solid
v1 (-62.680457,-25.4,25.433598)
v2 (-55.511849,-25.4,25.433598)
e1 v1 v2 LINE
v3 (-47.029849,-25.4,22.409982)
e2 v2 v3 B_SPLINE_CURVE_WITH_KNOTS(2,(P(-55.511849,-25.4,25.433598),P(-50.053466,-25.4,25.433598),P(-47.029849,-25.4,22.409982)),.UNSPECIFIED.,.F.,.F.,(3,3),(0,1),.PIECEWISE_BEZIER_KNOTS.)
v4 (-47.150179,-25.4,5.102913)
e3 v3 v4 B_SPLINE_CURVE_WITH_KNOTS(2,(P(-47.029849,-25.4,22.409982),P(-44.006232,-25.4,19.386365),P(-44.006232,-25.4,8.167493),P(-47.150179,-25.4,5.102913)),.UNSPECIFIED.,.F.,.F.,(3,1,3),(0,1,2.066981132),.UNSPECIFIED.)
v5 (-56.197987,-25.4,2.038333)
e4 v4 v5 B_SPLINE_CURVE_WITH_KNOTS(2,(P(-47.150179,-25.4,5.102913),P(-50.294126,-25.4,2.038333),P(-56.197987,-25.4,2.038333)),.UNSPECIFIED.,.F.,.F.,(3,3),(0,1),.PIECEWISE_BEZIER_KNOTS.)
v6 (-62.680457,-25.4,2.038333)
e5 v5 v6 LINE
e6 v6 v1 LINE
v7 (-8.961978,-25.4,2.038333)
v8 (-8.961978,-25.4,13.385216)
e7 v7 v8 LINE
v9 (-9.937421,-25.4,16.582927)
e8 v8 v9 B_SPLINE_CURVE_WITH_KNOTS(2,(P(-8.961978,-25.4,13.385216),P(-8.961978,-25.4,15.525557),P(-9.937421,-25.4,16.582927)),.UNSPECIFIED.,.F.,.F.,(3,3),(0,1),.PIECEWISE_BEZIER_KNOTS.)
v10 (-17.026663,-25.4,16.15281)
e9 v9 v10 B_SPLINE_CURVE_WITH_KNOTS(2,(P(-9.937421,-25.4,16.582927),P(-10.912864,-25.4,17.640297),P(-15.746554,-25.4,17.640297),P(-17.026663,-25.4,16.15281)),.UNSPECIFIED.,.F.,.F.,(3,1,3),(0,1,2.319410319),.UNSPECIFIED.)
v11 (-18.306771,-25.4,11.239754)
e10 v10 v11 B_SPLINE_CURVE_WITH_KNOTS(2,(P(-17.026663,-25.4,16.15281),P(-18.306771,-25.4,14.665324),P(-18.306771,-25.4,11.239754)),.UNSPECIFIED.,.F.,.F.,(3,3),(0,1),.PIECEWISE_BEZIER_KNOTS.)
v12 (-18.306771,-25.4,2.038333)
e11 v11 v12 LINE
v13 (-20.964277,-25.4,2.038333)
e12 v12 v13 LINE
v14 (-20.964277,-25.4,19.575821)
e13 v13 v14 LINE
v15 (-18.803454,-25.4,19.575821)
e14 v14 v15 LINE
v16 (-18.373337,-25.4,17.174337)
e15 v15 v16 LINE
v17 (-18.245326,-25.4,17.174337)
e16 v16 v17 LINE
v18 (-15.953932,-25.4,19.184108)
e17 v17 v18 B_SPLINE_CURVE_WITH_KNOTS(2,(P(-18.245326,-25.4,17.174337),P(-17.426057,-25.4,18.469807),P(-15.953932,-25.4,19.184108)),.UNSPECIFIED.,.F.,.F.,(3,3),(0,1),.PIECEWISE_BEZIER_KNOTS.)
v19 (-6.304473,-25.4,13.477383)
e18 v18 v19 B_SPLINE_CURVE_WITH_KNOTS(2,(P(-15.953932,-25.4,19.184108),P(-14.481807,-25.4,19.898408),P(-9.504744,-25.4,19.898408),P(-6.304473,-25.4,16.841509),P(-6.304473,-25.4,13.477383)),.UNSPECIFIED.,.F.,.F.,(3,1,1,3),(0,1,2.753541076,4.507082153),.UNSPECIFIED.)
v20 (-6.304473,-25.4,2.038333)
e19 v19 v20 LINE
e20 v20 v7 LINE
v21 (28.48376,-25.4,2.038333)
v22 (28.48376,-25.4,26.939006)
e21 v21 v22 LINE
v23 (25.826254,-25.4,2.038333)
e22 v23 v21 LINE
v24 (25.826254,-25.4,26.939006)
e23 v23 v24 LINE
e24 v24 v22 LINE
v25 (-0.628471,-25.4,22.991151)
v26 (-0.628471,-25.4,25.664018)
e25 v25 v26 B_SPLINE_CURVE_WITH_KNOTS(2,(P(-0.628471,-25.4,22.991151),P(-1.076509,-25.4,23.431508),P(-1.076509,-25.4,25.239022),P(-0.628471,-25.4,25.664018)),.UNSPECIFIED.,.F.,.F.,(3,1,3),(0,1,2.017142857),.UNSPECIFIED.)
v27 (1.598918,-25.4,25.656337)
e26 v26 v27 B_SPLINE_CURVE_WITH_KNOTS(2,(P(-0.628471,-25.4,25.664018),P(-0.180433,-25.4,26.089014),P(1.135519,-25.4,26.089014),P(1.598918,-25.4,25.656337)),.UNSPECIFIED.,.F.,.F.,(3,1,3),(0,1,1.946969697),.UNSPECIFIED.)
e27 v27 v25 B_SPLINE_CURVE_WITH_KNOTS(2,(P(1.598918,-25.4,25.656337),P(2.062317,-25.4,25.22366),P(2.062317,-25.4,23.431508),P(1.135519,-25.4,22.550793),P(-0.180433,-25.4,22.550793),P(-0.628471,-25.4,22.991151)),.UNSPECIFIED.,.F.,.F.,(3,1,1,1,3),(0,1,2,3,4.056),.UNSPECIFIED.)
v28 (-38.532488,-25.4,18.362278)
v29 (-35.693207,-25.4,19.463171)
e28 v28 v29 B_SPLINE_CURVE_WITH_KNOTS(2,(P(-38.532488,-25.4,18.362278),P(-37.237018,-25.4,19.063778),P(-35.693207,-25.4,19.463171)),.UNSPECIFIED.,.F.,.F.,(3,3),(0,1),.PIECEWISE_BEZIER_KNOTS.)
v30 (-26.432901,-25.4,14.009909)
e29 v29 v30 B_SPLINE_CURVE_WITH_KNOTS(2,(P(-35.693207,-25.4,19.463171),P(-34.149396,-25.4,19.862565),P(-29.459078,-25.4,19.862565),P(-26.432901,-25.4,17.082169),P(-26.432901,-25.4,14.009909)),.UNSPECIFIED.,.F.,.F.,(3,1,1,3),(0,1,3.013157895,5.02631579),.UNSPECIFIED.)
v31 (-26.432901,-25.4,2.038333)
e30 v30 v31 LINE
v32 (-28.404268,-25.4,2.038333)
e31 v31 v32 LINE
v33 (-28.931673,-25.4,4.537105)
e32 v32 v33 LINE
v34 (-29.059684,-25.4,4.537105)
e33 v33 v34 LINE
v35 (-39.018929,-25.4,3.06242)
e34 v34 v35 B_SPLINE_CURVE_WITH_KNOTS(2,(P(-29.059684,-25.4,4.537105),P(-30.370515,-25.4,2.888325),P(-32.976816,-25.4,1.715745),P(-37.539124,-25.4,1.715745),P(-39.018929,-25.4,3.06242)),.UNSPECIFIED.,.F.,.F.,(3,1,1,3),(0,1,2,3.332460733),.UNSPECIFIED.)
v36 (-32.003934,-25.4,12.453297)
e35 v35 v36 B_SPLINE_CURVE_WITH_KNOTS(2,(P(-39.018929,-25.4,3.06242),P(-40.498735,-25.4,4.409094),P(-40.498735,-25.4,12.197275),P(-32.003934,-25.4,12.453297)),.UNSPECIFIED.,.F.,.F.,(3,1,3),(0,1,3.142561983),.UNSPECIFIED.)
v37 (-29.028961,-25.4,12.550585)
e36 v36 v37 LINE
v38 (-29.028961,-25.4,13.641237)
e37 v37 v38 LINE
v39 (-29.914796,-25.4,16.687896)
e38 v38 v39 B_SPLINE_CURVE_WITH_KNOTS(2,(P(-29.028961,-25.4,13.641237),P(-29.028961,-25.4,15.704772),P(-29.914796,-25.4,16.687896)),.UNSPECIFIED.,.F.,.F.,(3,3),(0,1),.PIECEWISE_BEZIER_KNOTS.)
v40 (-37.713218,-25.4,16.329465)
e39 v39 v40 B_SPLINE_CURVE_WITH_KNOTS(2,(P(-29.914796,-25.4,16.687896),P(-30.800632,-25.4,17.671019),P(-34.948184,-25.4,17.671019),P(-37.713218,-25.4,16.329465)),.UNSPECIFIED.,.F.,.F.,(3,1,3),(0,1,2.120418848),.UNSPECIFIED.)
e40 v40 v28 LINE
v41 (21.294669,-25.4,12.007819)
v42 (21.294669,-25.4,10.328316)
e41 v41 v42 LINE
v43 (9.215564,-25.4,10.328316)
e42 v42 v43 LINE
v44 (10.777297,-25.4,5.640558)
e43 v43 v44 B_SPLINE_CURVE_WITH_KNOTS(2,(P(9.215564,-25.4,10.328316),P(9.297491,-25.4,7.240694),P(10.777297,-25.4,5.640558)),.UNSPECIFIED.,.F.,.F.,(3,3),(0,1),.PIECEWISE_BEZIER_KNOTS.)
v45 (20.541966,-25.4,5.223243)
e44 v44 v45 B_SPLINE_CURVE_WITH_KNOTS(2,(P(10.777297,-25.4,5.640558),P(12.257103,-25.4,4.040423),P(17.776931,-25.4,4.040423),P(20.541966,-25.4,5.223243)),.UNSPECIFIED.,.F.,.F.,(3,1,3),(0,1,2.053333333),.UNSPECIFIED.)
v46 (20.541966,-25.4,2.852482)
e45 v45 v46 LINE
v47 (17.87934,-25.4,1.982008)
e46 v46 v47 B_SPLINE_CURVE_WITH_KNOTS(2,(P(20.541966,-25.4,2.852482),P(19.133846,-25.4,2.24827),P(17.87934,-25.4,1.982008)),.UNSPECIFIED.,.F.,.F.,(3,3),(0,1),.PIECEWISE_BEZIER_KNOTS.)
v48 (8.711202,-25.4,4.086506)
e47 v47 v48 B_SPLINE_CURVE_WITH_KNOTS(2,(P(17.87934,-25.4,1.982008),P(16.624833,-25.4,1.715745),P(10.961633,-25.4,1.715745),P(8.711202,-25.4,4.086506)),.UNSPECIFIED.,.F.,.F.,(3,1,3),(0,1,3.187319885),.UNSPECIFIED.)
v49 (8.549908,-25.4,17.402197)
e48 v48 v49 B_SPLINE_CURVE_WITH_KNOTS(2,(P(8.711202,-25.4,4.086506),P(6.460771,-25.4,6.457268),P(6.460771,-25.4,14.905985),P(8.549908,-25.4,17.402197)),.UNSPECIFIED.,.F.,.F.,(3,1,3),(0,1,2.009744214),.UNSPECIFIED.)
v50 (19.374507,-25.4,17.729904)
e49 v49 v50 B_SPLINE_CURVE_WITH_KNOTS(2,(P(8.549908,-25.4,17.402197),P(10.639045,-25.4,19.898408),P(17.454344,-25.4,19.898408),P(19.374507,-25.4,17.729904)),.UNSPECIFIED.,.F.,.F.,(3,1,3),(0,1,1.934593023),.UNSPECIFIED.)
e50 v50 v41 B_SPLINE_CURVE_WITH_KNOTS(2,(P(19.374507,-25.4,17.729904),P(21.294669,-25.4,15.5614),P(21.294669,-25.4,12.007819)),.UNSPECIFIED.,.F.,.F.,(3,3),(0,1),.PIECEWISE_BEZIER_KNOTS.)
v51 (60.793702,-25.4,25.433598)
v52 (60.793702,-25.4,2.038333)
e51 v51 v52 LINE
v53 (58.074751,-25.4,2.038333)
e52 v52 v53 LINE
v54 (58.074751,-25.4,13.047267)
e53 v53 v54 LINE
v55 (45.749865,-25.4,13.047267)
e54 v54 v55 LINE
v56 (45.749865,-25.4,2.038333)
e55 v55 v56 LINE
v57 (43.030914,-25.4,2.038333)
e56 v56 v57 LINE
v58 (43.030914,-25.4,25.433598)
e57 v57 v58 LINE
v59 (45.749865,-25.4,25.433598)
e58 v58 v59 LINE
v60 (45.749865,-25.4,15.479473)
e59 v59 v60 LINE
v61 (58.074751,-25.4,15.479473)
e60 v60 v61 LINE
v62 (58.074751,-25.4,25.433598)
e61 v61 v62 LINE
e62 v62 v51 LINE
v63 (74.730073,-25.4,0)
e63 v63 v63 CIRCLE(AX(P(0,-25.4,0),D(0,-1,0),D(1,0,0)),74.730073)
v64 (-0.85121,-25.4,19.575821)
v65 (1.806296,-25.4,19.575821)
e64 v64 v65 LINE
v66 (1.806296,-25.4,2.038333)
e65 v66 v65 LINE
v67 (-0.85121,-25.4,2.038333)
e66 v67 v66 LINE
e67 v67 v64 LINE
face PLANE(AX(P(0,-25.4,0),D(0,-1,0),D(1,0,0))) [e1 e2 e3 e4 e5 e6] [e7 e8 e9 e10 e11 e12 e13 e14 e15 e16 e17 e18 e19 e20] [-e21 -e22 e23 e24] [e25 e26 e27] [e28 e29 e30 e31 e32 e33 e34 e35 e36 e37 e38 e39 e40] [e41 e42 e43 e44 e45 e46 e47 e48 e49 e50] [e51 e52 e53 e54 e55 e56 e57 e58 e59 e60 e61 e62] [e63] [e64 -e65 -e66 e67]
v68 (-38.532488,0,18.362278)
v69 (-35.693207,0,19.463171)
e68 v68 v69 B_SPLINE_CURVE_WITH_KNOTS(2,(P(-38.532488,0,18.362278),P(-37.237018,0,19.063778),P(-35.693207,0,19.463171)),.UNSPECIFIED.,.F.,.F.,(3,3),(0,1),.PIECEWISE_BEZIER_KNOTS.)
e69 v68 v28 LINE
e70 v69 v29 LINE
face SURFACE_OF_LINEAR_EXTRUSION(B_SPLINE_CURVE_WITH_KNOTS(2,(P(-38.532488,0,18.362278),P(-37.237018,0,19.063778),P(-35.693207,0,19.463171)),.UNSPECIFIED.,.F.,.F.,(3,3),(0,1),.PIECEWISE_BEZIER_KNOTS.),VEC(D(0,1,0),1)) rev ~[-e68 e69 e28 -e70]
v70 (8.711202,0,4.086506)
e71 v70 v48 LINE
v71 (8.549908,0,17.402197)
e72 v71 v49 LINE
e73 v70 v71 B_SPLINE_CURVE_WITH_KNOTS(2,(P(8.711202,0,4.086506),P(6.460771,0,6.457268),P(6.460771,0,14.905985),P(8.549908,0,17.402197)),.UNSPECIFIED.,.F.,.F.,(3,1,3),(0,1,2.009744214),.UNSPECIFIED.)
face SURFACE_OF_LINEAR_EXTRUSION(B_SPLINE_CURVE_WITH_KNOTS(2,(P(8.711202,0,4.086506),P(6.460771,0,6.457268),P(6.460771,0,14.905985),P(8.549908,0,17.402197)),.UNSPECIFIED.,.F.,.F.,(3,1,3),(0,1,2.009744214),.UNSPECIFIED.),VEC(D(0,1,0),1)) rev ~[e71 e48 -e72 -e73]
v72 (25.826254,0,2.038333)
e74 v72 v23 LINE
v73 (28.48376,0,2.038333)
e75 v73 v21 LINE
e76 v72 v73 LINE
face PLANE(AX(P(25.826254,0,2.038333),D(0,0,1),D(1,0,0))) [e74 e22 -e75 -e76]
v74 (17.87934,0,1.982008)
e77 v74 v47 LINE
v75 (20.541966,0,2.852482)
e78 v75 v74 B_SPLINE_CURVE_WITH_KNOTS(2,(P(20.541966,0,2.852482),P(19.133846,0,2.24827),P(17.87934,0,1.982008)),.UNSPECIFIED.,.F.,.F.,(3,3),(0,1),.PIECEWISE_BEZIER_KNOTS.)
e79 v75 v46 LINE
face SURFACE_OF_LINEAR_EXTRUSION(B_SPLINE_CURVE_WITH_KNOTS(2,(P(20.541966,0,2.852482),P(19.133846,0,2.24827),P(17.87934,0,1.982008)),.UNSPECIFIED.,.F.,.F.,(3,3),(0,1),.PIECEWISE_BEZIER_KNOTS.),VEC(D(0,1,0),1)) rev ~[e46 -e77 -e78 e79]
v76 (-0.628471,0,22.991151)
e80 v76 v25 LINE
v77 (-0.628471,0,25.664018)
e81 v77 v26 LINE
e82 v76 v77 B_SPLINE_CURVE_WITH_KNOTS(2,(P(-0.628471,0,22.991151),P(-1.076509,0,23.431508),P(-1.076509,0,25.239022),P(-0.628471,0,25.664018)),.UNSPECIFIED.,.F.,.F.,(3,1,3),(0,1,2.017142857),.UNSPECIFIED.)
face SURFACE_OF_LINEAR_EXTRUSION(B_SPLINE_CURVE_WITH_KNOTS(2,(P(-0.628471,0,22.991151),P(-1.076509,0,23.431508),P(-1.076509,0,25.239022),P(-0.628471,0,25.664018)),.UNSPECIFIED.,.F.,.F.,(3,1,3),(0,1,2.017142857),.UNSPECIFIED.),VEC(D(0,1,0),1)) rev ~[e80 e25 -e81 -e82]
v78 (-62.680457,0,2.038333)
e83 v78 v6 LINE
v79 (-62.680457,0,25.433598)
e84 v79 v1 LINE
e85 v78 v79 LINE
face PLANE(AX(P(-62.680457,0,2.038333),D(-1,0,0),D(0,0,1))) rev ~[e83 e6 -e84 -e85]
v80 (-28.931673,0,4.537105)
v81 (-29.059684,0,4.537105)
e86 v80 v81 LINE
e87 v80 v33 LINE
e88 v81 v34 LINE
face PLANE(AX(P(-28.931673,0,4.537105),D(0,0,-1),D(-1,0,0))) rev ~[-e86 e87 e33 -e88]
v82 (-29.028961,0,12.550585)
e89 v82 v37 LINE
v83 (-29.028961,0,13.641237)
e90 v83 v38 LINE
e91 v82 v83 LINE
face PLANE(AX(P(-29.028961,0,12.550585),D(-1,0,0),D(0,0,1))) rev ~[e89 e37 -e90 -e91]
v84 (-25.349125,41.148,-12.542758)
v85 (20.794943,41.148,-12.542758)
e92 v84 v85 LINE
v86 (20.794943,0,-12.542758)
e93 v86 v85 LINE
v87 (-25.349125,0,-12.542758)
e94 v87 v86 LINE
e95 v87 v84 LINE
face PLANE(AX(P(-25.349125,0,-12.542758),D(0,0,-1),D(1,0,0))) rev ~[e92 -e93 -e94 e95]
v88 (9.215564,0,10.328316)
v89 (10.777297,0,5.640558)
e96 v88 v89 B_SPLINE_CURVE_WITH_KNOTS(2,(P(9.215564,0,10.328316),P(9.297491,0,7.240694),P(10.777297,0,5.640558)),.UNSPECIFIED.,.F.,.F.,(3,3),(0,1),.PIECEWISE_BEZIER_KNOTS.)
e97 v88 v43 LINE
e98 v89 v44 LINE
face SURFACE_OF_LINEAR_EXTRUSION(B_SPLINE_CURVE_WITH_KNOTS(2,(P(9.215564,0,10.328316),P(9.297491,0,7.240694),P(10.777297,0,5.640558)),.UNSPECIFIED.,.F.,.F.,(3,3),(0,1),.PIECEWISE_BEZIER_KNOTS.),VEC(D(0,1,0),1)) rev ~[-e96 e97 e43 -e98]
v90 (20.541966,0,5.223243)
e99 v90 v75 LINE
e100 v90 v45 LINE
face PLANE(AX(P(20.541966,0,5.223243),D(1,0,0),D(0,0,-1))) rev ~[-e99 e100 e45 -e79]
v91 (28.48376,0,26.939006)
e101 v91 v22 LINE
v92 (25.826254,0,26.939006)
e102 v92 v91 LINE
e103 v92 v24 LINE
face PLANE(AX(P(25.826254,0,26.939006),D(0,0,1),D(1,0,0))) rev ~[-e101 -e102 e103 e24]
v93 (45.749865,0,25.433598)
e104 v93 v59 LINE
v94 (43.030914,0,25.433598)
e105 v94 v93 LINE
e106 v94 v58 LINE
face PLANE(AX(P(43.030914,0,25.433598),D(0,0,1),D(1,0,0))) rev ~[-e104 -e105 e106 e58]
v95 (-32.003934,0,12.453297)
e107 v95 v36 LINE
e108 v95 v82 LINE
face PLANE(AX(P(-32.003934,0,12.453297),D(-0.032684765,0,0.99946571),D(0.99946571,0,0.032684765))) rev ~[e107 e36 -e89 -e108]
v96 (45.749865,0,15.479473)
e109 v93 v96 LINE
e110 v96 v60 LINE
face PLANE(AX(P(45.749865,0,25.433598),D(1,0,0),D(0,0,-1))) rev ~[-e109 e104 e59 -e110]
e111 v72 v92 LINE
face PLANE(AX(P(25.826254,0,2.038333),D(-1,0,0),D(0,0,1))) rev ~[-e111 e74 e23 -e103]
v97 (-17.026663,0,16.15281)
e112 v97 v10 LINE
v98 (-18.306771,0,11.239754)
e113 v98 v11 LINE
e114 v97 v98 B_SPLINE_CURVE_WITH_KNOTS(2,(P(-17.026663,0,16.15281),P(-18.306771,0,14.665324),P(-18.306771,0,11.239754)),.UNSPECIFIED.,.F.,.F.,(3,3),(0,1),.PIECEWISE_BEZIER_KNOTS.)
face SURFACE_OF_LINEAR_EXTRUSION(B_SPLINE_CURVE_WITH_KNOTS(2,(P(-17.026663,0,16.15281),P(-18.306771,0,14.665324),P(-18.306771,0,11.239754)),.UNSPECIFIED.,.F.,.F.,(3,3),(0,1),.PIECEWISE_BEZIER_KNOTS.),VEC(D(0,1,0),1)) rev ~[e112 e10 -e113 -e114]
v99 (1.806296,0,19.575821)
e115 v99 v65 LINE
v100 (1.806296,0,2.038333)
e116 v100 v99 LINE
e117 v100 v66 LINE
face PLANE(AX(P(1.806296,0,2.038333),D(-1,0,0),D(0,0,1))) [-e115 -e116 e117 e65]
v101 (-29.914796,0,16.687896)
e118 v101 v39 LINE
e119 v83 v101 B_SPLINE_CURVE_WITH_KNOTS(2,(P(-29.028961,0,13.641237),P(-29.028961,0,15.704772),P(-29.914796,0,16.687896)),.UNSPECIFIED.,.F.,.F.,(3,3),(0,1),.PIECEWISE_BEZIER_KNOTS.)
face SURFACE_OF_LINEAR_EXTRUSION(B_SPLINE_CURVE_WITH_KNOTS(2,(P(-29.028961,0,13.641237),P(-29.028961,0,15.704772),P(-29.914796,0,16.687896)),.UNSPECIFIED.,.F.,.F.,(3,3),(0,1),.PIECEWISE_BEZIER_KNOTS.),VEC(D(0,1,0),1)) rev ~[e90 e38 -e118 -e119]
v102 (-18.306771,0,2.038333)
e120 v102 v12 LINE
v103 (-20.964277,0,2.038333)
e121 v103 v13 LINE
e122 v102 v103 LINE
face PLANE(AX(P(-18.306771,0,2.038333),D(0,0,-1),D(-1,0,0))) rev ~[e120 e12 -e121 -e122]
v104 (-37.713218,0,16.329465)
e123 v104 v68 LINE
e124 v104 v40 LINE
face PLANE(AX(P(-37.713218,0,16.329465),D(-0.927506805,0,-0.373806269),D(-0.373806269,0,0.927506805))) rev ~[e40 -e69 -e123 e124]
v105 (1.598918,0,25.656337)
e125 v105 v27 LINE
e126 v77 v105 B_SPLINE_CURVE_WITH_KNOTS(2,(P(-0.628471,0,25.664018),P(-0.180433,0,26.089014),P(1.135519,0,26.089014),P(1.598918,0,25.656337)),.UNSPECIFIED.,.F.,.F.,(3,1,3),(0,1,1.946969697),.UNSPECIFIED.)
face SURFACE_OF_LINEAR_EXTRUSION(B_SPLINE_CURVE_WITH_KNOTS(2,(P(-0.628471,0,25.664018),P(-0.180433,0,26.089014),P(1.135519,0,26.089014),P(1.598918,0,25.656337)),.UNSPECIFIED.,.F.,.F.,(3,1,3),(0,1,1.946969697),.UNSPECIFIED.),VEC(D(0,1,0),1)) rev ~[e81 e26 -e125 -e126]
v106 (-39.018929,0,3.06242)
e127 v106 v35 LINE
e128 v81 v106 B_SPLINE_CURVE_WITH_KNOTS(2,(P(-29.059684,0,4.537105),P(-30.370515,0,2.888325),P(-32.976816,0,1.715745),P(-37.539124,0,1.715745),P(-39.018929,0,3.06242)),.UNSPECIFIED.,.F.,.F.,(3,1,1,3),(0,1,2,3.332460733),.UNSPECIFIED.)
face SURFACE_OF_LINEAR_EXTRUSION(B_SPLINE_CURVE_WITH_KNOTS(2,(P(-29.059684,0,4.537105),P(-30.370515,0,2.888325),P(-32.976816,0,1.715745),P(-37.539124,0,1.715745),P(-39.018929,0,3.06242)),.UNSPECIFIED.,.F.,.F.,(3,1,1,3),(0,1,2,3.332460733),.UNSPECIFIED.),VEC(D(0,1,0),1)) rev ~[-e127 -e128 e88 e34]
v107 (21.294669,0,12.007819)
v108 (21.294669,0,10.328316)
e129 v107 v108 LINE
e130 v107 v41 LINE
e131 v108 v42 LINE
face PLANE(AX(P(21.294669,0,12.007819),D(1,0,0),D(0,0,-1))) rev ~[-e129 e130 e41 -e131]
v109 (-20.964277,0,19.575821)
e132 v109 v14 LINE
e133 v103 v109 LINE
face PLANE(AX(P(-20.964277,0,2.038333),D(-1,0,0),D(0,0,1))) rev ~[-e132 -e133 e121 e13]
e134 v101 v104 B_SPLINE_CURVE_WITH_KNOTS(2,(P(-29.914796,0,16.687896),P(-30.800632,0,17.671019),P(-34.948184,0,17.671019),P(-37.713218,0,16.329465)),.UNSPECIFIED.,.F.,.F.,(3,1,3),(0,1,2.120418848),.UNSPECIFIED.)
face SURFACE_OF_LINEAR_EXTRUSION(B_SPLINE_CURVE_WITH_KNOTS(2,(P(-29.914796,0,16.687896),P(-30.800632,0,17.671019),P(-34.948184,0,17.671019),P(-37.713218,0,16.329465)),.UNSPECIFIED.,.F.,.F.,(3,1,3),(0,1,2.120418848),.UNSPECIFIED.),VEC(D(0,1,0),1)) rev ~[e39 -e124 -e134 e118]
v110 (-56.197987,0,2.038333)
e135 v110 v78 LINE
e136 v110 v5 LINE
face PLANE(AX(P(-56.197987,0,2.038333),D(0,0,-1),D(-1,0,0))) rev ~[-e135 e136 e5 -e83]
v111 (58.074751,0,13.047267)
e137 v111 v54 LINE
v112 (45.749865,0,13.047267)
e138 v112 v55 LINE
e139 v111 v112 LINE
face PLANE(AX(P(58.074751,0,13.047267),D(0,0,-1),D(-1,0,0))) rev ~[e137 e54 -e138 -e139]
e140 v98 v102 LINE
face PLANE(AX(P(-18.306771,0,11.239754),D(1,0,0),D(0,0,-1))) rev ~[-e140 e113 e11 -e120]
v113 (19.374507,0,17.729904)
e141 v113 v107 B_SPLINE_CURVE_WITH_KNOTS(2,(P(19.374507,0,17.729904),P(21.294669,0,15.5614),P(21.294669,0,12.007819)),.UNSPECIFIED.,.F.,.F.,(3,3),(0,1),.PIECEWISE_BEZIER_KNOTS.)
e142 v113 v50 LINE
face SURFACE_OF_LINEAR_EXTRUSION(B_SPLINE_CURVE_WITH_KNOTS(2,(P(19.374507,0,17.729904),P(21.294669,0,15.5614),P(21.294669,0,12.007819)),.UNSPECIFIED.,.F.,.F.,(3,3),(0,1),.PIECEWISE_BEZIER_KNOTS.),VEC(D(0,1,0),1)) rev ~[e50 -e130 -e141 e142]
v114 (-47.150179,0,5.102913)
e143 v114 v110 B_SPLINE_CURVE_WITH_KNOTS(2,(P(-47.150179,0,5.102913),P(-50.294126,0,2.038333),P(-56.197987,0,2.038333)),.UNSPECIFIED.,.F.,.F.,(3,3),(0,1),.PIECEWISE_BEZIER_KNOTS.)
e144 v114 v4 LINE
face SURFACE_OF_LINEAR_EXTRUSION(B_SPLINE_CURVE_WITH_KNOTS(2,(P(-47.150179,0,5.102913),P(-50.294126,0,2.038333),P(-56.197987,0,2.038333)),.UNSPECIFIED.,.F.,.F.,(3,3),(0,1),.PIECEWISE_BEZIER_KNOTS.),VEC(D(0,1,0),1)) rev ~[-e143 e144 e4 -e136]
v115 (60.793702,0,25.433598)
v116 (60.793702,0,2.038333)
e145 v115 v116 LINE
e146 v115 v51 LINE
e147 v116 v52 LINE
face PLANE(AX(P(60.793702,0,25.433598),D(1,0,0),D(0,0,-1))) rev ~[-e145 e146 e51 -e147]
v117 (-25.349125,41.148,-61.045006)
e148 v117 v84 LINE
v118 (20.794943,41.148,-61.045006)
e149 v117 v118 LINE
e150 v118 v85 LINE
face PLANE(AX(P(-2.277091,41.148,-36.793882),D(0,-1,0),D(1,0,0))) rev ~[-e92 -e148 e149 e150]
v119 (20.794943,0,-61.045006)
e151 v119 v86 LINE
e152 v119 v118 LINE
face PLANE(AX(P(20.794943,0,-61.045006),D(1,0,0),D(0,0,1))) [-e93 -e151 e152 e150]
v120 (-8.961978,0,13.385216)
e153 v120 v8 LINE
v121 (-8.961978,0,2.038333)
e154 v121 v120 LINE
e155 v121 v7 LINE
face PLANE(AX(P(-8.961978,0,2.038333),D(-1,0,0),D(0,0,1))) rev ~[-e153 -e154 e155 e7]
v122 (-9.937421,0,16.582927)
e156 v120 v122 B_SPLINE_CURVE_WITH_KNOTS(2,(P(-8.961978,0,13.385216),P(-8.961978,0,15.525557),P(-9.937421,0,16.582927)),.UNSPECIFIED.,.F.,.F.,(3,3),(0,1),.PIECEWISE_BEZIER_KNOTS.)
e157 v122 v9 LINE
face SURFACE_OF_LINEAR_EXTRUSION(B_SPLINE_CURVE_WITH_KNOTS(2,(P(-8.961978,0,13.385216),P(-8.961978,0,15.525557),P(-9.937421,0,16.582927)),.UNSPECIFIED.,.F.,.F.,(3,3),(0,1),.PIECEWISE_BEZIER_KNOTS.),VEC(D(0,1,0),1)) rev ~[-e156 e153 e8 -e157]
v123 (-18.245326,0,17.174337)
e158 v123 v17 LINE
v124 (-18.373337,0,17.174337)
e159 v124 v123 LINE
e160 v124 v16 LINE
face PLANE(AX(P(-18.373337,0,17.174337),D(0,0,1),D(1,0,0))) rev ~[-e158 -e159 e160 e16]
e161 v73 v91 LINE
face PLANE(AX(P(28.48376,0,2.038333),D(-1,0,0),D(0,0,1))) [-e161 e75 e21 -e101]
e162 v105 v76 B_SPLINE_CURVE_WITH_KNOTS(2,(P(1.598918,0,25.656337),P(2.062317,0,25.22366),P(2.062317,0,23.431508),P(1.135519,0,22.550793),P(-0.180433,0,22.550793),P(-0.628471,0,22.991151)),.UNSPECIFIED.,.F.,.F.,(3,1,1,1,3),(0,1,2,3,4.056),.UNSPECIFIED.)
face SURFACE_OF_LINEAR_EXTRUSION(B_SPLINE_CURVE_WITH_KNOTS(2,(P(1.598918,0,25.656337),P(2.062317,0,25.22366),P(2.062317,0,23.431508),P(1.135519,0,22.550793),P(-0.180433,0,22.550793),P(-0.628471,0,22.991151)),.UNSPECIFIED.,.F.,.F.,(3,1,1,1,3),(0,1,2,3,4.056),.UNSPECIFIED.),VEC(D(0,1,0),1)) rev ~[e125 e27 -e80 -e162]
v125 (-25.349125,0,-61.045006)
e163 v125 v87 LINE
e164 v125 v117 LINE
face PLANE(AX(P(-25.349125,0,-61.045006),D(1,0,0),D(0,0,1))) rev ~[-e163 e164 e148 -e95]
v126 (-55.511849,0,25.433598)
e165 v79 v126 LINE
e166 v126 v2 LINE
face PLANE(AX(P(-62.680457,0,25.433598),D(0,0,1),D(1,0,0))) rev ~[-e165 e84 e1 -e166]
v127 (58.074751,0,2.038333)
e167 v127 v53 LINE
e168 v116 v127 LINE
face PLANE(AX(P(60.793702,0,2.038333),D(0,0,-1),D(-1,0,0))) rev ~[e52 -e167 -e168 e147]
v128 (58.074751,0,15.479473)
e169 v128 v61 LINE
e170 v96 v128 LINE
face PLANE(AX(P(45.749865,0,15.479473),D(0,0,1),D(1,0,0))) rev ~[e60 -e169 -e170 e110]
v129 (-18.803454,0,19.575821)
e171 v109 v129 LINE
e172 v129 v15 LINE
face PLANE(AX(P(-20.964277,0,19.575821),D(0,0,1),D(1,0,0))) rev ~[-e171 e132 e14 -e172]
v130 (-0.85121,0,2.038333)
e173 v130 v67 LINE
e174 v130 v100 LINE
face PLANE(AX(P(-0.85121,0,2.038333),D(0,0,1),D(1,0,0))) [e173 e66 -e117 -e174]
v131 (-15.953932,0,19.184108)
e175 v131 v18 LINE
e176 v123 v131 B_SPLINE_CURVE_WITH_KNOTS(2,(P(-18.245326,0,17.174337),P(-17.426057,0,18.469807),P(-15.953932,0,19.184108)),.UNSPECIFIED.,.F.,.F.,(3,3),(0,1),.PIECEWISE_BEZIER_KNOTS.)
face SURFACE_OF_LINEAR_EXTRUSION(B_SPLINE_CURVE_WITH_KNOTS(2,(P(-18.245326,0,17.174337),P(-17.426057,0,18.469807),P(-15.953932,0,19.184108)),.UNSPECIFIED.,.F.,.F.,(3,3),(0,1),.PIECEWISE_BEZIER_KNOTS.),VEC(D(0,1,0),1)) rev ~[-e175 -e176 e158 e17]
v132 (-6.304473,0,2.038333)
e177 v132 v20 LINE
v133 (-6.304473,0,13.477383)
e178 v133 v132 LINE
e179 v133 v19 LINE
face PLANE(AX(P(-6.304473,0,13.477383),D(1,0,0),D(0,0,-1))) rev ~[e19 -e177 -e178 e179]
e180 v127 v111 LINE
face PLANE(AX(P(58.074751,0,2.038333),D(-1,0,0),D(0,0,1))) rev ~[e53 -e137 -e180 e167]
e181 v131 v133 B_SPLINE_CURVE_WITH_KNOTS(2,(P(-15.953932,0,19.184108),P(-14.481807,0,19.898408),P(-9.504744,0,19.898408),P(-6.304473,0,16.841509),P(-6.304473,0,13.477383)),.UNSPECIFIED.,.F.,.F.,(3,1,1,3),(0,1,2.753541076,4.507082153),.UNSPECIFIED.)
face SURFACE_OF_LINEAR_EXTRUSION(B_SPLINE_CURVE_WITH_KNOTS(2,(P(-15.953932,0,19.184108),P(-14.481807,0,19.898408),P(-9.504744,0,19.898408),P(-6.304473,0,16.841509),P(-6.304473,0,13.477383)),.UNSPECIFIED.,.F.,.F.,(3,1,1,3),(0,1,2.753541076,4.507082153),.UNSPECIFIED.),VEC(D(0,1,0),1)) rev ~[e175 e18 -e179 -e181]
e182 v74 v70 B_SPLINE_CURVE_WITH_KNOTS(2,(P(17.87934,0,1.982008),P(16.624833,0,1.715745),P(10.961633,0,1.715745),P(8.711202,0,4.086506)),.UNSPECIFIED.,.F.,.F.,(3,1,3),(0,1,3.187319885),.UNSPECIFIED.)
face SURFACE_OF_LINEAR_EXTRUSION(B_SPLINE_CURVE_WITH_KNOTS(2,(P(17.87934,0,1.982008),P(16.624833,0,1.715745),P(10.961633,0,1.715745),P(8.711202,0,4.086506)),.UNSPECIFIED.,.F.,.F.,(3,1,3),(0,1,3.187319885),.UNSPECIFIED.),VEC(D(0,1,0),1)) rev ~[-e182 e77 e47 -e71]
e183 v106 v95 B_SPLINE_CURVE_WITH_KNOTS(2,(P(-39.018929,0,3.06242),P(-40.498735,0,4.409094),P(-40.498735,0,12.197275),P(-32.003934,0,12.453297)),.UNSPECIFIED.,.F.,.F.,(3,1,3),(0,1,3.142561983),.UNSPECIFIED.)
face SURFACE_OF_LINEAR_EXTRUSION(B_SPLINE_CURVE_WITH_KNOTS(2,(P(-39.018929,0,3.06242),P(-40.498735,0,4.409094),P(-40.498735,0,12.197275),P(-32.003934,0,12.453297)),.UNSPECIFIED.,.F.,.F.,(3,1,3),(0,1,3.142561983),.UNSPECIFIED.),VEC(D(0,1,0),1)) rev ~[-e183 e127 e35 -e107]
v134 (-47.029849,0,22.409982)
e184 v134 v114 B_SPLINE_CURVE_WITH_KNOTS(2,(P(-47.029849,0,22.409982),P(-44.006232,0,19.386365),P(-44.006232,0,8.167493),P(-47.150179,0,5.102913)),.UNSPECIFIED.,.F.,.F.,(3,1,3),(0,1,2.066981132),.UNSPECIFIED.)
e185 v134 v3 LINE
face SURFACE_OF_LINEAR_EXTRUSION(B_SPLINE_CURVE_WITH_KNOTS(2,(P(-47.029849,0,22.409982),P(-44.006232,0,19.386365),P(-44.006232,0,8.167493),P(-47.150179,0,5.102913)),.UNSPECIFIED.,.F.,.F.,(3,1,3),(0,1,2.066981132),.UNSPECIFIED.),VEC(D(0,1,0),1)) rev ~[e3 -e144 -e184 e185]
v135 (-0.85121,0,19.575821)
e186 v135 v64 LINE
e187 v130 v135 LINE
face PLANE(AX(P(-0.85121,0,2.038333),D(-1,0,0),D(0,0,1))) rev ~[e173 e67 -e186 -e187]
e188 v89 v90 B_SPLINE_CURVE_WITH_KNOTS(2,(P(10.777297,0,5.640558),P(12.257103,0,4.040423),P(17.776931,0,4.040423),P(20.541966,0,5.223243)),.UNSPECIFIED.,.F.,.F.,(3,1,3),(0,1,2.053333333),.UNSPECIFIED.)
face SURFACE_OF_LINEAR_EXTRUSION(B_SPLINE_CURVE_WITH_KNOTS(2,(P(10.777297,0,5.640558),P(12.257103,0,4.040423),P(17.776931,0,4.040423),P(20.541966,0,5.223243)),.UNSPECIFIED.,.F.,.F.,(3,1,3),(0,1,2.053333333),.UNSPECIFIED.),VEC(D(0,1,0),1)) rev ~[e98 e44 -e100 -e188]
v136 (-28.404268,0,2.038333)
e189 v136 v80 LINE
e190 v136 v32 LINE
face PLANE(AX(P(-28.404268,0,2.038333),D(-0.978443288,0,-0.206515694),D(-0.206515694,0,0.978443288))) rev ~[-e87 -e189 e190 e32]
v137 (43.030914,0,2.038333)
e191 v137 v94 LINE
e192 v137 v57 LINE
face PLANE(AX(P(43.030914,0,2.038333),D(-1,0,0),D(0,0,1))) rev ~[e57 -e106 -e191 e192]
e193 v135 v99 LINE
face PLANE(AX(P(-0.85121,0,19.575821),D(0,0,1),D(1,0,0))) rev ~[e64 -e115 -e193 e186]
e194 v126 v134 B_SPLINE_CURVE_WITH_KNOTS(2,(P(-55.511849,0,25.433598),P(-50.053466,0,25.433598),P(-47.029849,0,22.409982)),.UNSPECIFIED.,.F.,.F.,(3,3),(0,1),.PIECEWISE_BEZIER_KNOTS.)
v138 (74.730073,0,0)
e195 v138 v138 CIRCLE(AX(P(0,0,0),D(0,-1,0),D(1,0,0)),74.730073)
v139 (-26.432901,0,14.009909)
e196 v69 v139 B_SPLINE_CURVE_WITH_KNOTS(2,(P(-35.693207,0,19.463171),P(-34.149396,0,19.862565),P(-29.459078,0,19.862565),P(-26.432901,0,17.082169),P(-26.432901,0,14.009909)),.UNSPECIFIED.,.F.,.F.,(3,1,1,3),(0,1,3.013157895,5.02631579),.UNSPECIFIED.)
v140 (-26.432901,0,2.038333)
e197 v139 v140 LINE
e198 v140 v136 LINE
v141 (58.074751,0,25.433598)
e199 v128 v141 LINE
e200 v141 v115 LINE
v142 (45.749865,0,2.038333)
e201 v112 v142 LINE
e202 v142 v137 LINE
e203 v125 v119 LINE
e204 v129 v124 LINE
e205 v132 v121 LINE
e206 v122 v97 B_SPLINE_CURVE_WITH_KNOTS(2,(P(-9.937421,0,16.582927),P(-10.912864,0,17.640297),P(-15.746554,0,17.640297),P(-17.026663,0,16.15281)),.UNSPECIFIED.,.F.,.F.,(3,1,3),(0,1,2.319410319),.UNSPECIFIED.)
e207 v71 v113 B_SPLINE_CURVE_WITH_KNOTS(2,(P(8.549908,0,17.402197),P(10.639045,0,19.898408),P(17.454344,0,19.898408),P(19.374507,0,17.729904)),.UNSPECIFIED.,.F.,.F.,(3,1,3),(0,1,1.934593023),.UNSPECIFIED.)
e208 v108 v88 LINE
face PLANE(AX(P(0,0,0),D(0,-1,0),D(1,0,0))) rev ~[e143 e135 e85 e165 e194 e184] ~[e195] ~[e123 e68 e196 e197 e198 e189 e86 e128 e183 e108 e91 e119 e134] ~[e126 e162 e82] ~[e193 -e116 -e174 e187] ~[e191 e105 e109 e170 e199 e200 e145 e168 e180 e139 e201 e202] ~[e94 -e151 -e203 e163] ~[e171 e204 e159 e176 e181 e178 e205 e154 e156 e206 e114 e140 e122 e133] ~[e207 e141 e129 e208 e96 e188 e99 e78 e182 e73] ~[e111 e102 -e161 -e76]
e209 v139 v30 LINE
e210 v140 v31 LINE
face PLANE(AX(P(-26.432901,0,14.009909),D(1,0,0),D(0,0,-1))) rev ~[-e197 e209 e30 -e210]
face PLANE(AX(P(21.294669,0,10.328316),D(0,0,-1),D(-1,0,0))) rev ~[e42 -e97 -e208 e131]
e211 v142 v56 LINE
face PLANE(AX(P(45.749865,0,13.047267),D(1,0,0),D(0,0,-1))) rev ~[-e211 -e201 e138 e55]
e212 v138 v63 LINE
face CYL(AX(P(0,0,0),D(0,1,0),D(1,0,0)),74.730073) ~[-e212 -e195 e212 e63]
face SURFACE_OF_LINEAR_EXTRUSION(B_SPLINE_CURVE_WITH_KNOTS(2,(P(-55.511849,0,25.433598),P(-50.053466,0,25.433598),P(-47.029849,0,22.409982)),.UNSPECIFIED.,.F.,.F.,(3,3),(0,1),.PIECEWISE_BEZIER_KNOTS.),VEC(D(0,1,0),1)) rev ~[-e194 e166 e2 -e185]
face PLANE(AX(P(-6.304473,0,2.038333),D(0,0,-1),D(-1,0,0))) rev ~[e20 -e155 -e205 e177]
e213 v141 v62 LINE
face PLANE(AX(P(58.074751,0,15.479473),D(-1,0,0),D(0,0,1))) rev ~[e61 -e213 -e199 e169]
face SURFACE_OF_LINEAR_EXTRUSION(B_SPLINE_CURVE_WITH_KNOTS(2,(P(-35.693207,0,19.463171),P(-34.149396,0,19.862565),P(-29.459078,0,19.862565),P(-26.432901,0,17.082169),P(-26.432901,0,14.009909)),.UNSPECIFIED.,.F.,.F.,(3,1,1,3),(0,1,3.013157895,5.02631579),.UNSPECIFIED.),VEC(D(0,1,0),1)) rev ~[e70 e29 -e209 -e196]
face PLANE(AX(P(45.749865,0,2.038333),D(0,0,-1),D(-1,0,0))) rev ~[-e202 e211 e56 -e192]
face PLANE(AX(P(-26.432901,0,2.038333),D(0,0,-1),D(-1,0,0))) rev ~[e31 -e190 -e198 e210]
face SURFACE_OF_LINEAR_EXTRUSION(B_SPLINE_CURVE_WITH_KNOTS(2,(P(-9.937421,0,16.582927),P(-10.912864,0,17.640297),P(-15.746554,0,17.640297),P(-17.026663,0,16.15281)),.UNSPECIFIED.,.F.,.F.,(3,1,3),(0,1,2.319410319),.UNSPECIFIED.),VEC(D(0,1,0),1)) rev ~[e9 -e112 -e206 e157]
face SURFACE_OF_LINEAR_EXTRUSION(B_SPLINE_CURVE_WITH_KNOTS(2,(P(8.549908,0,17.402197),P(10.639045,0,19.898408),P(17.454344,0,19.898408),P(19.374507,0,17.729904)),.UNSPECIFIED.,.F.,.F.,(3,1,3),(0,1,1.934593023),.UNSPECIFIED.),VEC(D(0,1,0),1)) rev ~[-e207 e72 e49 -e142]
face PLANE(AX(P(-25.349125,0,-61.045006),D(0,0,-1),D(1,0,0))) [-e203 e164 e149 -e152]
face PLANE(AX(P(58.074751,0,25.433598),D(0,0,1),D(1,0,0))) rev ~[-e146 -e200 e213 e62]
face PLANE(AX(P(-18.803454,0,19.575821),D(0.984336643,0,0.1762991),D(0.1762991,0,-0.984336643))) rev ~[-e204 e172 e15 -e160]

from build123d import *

# Parameters (mm, degrees)
F0_R     = 74.7300726791
F0_W     = 2.6575055344
F0_H     = 17.5374883535
F0_H_2   = 24.9006732447
F2_DEPTH = 25.4
F1_W     = 46.1440682411
F1_H     = 48.5022477806
F3_DEPTH = 41.148


with BuildPart() as f2:
    # F0 (on Front) → F2 (new body)
    with BuildSketch(Plane.XZ):
        Circle(F0_R)
        with BuildLine():
            add(Edge.make_bspline(
                [(-47.0298489993, 22.4099815138), (-44.0062323942, 19.3863649086), (-44.0062323942, 13.9587042795)],
                knots=[0, 0, 0, 1, 1, 1], degree=2))
            add(Edge.make_bspline(
                [(-44.0062323942, 13.9587042795), (-44.0062323942, 8.1674927969), (-47.1501792114, 5.1029127153)],
                knots=[0, 0, 0, 1, 1, 1], degree=2))
            add(Edge.make_bspline(
                [(-47.1501792114, 5.1029127153), (-50.2941260287, 2.0383326337), (-56.1979870715, 2.0383326337)],
                knots=[0, 0, 0, 1, 1, 1], degree=2))
            Line((-56.1979870715, 2.0383326337), (-62.6804572191, 2.0383326337))
            Line((-62.6804572191, 2.0383326337), (-62.6804572191, 25.433598119))
            Line((-62.6804572191, 25.433598119), (-55.511848841, 25.433598119))
            add(Edge.make_bspline(
                [(-55.511848841, 25.433598119), (-50.0534656045, 25.433598119), (-47.0298489993, 22.4099815138)],
                knots=[0, 0, 0, 1, 1, 1], degree=2))
        make_face(mode=Mode.SUBTRACT)
        with BuildLine():
            Line((-26.4329009988, 2.0383326337), (-28.4042683027, 2.0383326337))
            Line((-28.4042683027, 2.0383326337), (-28.931673062, 4.5371046969))
            Line((-28.931673062, 4.5371046969), (-29.0596839259, 4.5371046969))
            add(Edge.make_bspline(
                [(-29.0596839259, 4.5371046969), (-30.3705151722, 2.8883247699), (-31.6736657666, 2.3020350133)],
                knots=[0, 0, 0, 1, 1, 1], degree=2))
            add(Edge.make_bspline(
                [(-31.6736657666, 2.3020350133), (-32.976816361, 1.7157452567), (-34.9328223613, 1.7157452567)],
                knots=[0, 0, 0, 1, 1, 1], degree=2))
            add(Edge.make_bspline(
                [(-34.9328223613, 1.7157452567), (-37.5391235502, 1.7157452567), (-39.0189291368, 3.0624195448)],
                knots=[0, 0, 0, 1, 1, 1], degree=2))
            add(Edge.make_bspline(
                [(-39.0189291368, 3.0624195448), (-40.4987347235, 4.409093833), (-40.4987347235, 6.887384158)],
                knots=[0, 0, 0, 1, 1, 1], degree=2))
            add(Edge.make_bspline(
                [(-40.4987347235, 6.887384158), (-40.4987347235, 12.1972747923), (-32.0039337954, 12.4532965201)],
                knots=[0, 0, 0, 1, 1, 1], degree=2))
            Line((-32.0039337954, 12.4532965201), (-29.0289613185, 12.5505847767))
            Line((-29.0289613185, 12.5505847767), (-29.0289613185, 13.641237337))
            add(Edge.make_bspline(
                [(-29.0289613185, 13.641237337), (-29.0289613185, 15.704772463), (-29.9147964967, 16.6878958977)],
                knots=[0, 0, 0, 1, 1, 1], degree=2))
            add(Edge.make_bspline(
                [(-29.9147964967, 16.6878958977), (-30.8006316748, 17.6710193324), (-32.7566376751, 17.6710193324)],
                knots=[0, 0, 0, 1, 1, 1], degree=2))
            add(Edge.make_bspline(
                [(-32.7566376751, 17.6710193324), (-34.948183665, 17.6710193324), (-37.7132183251, 16.3294654788)],
                knots=[0, 0, 0, 1, 1, 1], degree=2))
            Line((-37.7132183251, 16.3294654788), (-38.5324878541, 18.3622779975))
            add(Edge.make_bspline(
                [(-38.5324878541, 18.3622779975), (-37.2370179114, 19.0637775316), (-35.6932068929, 19.463171427)],
                knots=[0, 0, 0, 1, 1, 1], degree=2))
            add(Edge.make_bspline(
                [(-35.6932068929, 19.463171427), (-34.1493958743, 19.8625653223), (-32.5927837694, 19.8625653223)],
                knots=[0, 0, 0, 1, 1, 1], degree=2))
            add(Edge.make_bspline(
                [(-32.5927837694, 19.8625653223), (-29.4590778212, 19.8625653223), (-27.94598941, 18.4723673404)],
                knots=[0, 0, 0, 1, 1, 1], degree=2))
            add(Edge.make_bspline(
                [(-27.94598941, 18.4723673404), (-26.4329009988, 17.0821693585), (-26.4329009988, 14.0099086251)],
                knots=[0, 0, 0, 1, 1, 1], degree=2))
            Line((-26.4329009988, 14.0099086251), (-26.4329009988, 2.0383326337))
        make_face(mode=Mode.SUBTRACT)
        with BuildLine():
            Line((-6.30447276, 2.0383326337), (-8.9619782945, 2.0383326337))
            Line((-8.9619782945, 2.0383326337), (-8.9619782945, 13.3852156093))
            add(Edge.make_bspline(
                [(-8.9619782945, 13.3852156093), (-8.9619782945, 15.5255572536), (-9.9374210774, 16.5829269893)],
                knots=[0, 0, 0, 1, 1, 1], degree=2))
            add(Edge.make_bspline(
                [(-9.9374210774, 16.5829269893), (-10.9128638602, 17.6402967251), (-12.9968807244, 17.6402967251)],
                knots=[0, 0, 0, 1, 1, 1], degree=2))
            add(Edge.make_bspline(
                [(-12.9968807244, 17.6402967251), (-15.7465540809, 17.6402967251), (-17.0266627198, 16.1528104866)],
                knots=[0, 0, 0, 1, 1, 1], degree=2))
            add(Edge.make_bspline(
                [(-17.0266627198, 16.1528104866), (-18.3067713588, 14.6653242482), (-18.3067713588, 11.2397535304)],
                knots=[0, 0, 0, 1, 1, 1], degree=2))
            Line((-18.3067713588, 11.2397535304), (-18.3067713588, 2.0383326337))
            Line((-18.3067713588, 2.0383326337), (-20.9642768932, 2.0383326337))
            Line((-20.9642768932, 2.0383326337), (-20.9642768932, 19.5758209872))
            Line((-20.9642768932, 19.5758209872), (-18.8034535107, 19.5758209872))
            Line((-18.8034535107, 19.5758209872), (-18.373337008, 17.1743371805))
            Line((-18.373337008, 17.1743371805), (-18.2453261441, 17.1743371805))
            add(Edge.make_bspline(
                [(-18.2453261441, 17.1743371805), (-17.4260566152, 18.4698071231), (-15.9539316804, 19.1841077437)],
                knots=[0, 0, 0, 1, 1, 1], degree=2))
            add(Edge.make_bspline(
                [(-15.9539316804, 19.1841077437), (-14.4818067456, 19.8984083642), (-12.6742933474, 19.8984083642)],
                knots=[0, 0, 0, 1, 1, 1], degree=2))
            add(Edge.make_bspline(
                [(-12.6742933474, 19.8984083642), (-9.5047443574, 19.8984083642), (-7.9046085587, 18.3699586493)],
                knots=[0, 0, 0, 1, 1, 1], degree=2))
            add(Edge.make_bspline(
                [(-7.9046085587, 18.3699586493), (-6.30447276, 16.8415089344), (-6.30447276, 13.4773834313)],
                knots=[0, 0, 0, 1, 1, 1], degree=2))
            Line((-6.30447276, 13.4773834313), (-6.30447276, 2.0383326337))
        make_face(mode=Mode.SUBTRACT)
        with Locations((0.4775428091, 10.8070768104)):
            Rectangle(F0_W, F0_H, mode=Mode.SUBTRACT)
        with BuildLine():
            add(Edge.make_bspline(
                [(17.8793396468, 1.9820078536), (16.6248331807, 1.7157452567), (14.8480423898, 1.7157452567)],
                knots=[0, 0, 0, 1, 1, 1], degree=2))
            add(Edge.make_bspline(
                [(14.8480423898, 1.7157452567), (10.961632562, 1.7157452567), (8.7112015747, 4.086506456)],
                knots=[0, 0, 0, 1, 1, 1], degree=2))
            add(Edge.make_bspline(
                [(8.7112015747, 4.086506456), (6.4607705875, 6.4572676553), (6.4607705875, 10.6611444256)],
                knots=[0, 0, 0, 1, 1, 1], degree=2))
            add(Edge.make_bspline(
                [(6.4607705875, 10.6611444256), (6.4607705875, 14.9059846723), (8.5499078862, 17.4021965183)],
                knots=[0, 0, 0, 1, 1, 1], degree=2))
            add(Edge.make_bspline(
                [(8.5499078862, 17.4021965183), (10.639045185, 19.8984083642), (14.1619041594, 19.8984083642)],
                knots=[0, 0, 0, 1, 1, 1], degree=2))
            add(Edge.make_bspline(
                [(14.1619041594, 19.8984083642), (17.4543435787, 19.8984083642), (19.3745065371, 17.7299043298)],
                knots=[0, 0, 0, 1, 1, 1], degree=2))
            add(Edge.make_bspline(
                [(19.3745065371, 17.7299043298), (21.2946694955, 15.5614002955), (21.2946694955, 12.0078187138)],
                knots=[0, 0, 0, 1, 1, 1], degree=2))
            Line((21.2946694955, 12.0078187138), (21.2946694955, 10.3283161795))
            Line((21.2946694955, 10.3283161795), (9.2155643785, 10.3283161795))
            add(Edge.make_bspline(
                [(9.2155643785, 10.3283161795), (9.2974913314, 7.2406941423), (10.777296918, 5.6405583437)],
                knots=[0, 0, 0, 1, 1, 1], degree=2))
            add(Edge.make_bspline(
                [(10.777296918, 5.6405583437), (12.2571025046, 4.040422545), (14.9453306464, 4.040422545)],
                knots=[0, 0, 0, 1, 1, 1], degree=2))
            add(Edge.make_bspline(
                [(14.9453306464, 4.040422545), (17.7769309557, 4.040422545), (20.5419656158, 5.2232429274)],
                knots=[0, 0, 0, 1, 1, 1], degree=2))
            Line((20.5419656158, 5.2232429274), (20.5419656158, 2.852481728))
            add(Edge.make_bspline(
                [(20.5419656158, 2.852481728), (19.133846113, 2.2482704505), (17.8793396468, 1.9820078536)],
                knots=[0, 0, 0, 1, 1, 1], degree=2))
        make_face(mode=Mode.SUBTRACT)
        with Locations((27.1550068446, 14.488669256)):
            Rectangle(F0_W, F0_H_2, mode=Mode.SUBTRACT)
        with BuildLine():
            add(Edge.make_bspline(
                [(-0.628471055, 22.9911508359), (-1.0765090786, 23.4315082077), (-1.0765090786, 24.3275842549)],
                knots=[0, 0, 0, 1, 1, 1], degree=2))
            add(Edge.make_bspline(
                [(-1.0765090786, 24.3275842549), (-1.0765090786, 25.2390216059), (-0.628471055, 25.664017674)],
                knots=[0, 0, 0, 1, 1, 1], degree=2))
            add(Edge.make_bspline(
                [(-0.628471055, 25.664017674), (-0.1804330313, 26.0890137421), (0.49546433, 26.0890137421)],
                knots=[0, 0, 0, 1, 1, 1], degree=2))
            add(Edge.make_bspline(
                [(0.49546433, 26.0890137421), (1.1355186495, 26.0890137421), (1.5989179768, 25.6563370222)],
                knots=[0, 0, 0, 1, 1, 1], degree=2))
            add(Edge.make_bspline(
                [(1.5989179768, 25.6563370222), (2.0623173041, 25.2236603022), (2.0623173041, 24.3275842549)],
                knots=[0, 0, 0, 1, 1, 1], degree=2))
            add(Edge.make_bspline(
                [(2.0623173041, 24.3275842549), (2.0623173041, 23.4315082077), (1.5989179768, 22.9911508359)],
                knots=[0, 0, 0, 1, 1, 1], degree=2))
            add(Edge.make_bspline(
                [(1.5989179768, 22.9911508359), (1.1355186495, 22.5507934641), (0.49546433, 22.5507934641)],
                knots=[0, 0, 0, 1, 1, 1], degree=2))
            add(Edge.make_bspline(
                [(0.49546433, 22.5507934641), (-0.1804330313, 22.5507934641), (-0.628471055, 22.9911508359)],
                knots=[0, 0, 0, 1, 1, 1], degree=2))
        make_face(mode=Mode.SUBTRACT)
        Polygon((60.7937016587, 25.433598119), (60.7937016587, 2.0383326337), (58.0747509096, 2.0383326337), (58.0747509096, 13.0472669286), (45.7498649339, 13.0472669286), (45.7498649339, 2.0383326337), (43.0309141848, 2.0383326337), (43.0309141848, 25.433598119), (45.7498649339, 25.433598119), (45.7498649339, 15.4794733426), (58.0747509096, 15.4794733426), (58.0747509096, 25.433598119), align=None, mode=Mode.SUBTRACT)
    extrude(amount=F2_DEPTH)

    # F1 (on face) → F3 (join)
    with BuildSketch(Plane.XZ):
        with Locations((-2.2770911455, -36.7938820273)):
            Rectangle(F1_W, F1_H)
    extrude(amount=-F3_DEPTH)


solid = f2.part
